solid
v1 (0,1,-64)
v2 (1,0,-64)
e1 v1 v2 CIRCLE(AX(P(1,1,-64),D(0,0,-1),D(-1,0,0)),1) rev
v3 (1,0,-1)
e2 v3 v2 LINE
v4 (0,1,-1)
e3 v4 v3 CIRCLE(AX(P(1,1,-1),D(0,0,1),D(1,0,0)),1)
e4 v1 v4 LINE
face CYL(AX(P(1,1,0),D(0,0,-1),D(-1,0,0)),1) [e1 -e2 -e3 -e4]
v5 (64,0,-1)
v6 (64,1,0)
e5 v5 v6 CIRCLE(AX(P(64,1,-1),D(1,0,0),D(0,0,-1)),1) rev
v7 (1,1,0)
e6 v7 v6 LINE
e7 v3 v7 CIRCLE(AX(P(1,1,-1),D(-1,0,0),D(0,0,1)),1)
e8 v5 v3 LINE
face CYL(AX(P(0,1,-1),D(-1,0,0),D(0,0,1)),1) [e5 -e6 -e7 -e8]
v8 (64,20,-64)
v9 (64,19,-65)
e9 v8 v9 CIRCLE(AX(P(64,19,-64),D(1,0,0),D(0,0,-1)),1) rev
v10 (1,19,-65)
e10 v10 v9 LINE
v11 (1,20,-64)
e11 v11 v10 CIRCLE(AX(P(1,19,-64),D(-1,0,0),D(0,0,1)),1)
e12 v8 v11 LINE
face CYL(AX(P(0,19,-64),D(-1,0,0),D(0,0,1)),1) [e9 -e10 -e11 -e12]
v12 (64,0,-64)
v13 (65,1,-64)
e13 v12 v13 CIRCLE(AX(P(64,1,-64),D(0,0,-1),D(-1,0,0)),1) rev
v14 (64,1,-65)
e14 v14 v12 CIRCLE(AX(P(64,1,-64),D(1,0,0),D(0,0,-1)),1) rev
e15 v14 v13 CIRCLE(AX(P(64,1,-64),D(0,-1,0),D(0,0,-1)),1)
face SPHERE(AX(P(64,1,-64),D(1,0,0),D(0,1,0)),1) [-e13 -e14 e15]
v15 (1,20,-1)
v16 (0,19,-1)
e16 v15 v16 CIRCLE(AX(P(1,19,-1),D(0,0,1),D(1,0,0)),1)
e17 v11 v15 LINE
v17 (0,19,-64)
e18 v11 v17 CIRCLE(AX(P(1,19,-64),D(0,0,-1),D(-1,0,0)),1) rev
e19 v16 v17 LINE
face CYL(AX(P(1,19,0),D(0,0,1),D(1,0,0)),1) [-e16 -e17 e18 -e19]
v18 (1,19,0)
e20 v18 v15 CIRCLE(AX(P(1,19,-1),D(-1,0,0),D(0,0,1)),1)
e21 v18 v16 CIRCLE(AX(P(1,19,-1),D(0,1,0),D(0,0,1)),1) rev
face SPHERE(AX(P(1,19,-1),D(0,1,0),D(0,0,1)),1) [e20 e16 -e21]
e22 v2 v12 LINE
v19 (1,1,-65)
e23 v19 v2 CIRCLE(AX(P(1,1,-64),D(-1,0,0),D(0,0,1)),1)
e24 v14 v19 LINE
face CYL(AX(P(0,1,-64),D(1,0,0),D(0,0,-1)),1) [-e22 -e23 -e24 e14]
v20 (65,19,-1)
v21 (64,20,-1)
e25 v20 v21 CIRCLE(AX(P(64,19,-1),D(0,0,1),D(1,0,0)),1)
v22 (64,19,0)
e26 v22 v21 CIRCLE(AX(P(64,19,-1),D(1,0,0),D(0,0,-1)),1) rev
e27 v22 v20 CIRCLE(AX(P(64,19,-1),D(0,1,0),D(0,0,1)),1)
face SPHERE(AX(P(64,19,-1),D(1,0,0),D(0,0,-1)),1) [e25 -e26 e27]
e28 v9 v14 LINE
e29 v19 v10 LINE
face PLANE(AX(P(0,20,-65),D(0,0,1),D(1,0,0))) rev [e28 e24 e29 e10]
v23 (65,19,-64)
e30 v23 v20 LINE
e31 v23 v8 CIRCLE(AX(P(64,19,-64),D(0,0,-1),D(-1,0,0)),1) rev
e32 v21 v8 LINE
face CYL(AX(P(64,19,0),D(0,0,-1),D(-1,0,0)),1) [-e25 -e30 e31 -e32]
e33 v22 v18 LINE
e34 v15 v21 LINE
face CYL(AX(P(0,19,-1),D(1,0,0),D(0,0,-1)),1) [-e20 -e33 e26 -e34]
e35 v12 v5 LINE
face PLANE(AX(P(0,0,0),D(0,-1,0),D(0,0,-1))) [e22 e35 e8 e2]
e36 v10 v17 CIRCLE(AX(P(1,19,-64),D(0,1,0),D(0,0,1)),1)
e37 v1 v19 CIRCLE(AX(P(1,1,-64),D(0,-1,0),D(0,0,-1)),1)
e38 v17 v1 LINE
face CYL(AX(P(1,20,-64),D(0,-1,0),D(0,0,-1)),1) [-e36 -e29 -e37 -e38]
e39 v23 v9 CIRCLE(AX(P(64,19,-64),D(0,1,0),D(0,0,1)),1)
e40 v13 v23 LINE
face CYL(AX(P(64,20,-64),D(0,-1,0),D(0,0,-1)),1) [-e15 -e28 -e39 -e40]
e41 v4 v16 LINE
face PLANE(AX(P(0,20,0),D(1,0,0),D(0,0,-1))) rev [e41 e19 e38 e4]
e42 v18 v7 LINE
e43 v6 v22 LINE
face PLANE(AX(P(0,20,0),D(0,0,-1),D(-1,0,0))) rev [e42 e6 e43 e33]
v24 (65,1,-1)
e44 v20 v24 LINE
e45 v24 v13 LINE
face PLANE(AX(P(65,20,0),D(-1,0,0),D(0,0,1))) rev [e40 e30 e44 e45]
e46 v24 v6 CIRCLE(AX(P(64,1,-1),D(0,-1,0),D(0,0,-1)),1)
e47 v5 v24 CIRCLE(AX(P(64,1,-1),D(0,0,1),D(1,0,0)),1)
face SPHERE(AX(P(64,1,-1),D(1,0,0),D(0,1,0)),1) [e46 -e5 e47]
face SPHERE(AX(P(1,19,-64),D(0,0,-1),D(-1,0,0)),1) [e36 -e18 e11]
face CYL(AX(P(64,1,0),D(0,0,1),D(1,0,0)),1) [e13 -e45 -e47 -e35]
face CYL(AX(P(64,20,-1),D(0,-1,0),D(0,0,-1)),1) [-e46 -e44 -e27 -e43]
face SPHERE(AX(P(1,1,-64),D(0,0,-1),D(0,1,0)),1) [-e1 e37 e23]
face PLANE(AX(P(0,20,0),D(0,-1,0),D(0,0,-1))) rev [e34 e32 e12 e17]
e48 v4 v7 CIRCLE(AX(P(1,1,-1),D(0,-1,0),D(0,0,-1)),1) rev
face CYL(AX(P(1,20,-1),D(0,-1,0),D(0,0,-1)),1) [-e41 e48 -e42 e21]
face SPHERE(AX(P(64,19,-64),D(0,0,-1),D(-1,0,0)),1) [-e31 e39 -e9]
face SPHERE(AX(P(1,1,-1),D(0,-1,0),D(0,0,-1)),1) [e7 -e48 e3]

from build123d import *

# Parameters (mm, degrees)
SKETCH1_W           = 65
SKETCH1_H           = 65
BOSS_EXTRUDE1_DEPTH = 20
FILLET1_R           = 1
BOSS_EXTRUDE2_DEPTH = 2


with BuildPart() as part:
    # Sketch1 → Boss-Extrude1 (new body)
    with BuildSketch(Plane(origin=(0, 0, 0), x_dir=(1, 0, 0), z_dir=(0, 1, 0))):
        with Locations((32.5, 32.5)):
            Rectangle(SKETCH1_W, SKETCH1_H)
    extrude(amount=BOSS_EXTRUDE1_DEPTH)

    # Fillet1
    fillet1_edges = [part.edges().sort_by_distance(p)[0] for p in [
        (65, 20, -32.5),
        (32.5, 20, -65),
        (0, 20, -32.5),
        (32.5, 0, -65),
        (65, 0, -32.5),
        (32.5, 0, 0),
        (0, 0, -32.5),
        (0, 10, -65),
        (65, 10, -65),
        (65, 10, 0),
        (0, 10, 0),
        (32.5, 20, 0),
    ]]
    fillet(fillet1_edges, radius=FILLET1_R)

    # Sketch5 → Boss-Extrude2 (add)
    with BuildSketch(Plane(origin=(0, 20, 0), x_dir=(1, 0, 0), z_dir=(0, 1, 0))):
        Polygon((19.685637492, 45.314362508), (24.766822527, 50.395547542), (25.276108448, 49.886261621), (20.194923413, 44.805076587), align=None)
        with BuildLine():
            Line((24.270811136, 43.09904656), (24.718807634, 42.493448688))
            add(Edge.make_bspline(
                [(24.718807634, 42.493448688), (24.65944603, 42.457112102), (24.543657841, 42.386235522), (24.36613492, 42.296211036), (24.192297686, 42.219040325), (24.01995098, 42.159212632), (23.849730523, 42.114752837), (23.681690942, 42.086719988), (23.516089318, 42.075383185), (23.353313359, 42.077400194), (23.19429728, 42.097465643), (23.038449433, 42.128495622), (22.887328161, 42.177860051), (22.740286195, 42.240265036), (22.597438103, 42.3173153), (22.45826992, 42.40727332), (22.32545788, 42.515129055), (22.241429087, 42.594556655), (22.198644924, 42.63499807)],
                knots=[0, 0, 0, 0, 0.000208722, 0.000407124, 0.000596633, 0.000778925, 0.00095377, 0.001123861, 0.001289171, 0.001451177, 0.001611365, 0.001769344, 0.001927175, 0.002087363, 0.002247969, 0.002413511, 0.002583753, 0.002760349, 0.002760349, 0.002760349, 0.002760349], degree=3))
            add(Edge.make_bspline(
                [(22.198644924, 42.63499807), (22.147701284, 42.688346884), (22.04765429, 42.793117339), (21.922554095, 42.967231051), (21.817569235, 43.147019722), (21.73659792, 43.335189786), (21.679785512, 43.530848968), (21.644085884, 43.733421879), (21.633386128, 43.943953589), (21.643285872, 44.161113728), (21.677814894, 44.38377928), (21.742580127, 44.606907144), (21.828375675, 44.832560204), (21.944279573, 45.056953333), (22.083016879, 45.284675208), (22.25070644, 45.510705787), (22.440615653, 45.740739094), (22.58325937, 45.886785575), (22.656856326, 45.962138185)],
                knots=[0, 0, 0, 0, 0.000221059, 0.000434133, 0.00064138, 0.000844681, 0.001046936, 0.001251338, 0.00146034, 0.001678012, 0.001902569, 0.002134488, 0.002373782, 0.002625691, 0.002890982, 0.003172935, 0.003469264, 0.003785121, 0.003785121, 0.003785121, 0.003785121], degree=3))
            add(Edge.make_bspline(
                [(22.656856326, 45.962138185), (22.735304815, 46.037955999), (22.88748258, 46.185030666), (23.123303486, 46.384632603), (23.357638034, 46.557100392), (23.590677334, 46.702822596), (23.821840648, 46.822078206), (24.051852, 46.914709279), (24.280409589, 46.981983021), (24.506932694, 47.018796963), (24.727384439, 47.03431778), (24.940233058, 47.025482357), (25.144352505, 46.994971105), (25.340085808, 46.942519294), (25.526286742, 46.866215225), (25.702710621, 46.766561684), (25.872394562, 46.647715855), (25.973496188, 46.551133092), (26.024856056, 46.502068817)],
                knots=[0, 0, 0, 0, 0.000327232, 0.000634778, 0.000926067, 0.001199391, 0.001458489, 0.001705352, 0.00194228, 0.002171628, 0.00239246, 0.002604236, 0.002809376, 0.003010444, 0.003210705, 0.003411263, 0.003617372, 0.003830186, 0.003830186, 0.003830186, 0.003830186], degree=3))
            add(Edge.make_bspline(
                [(26.024856056, 46.502068817), (26.071398533, 46.453066353), (26.163167054, 46.356447435), (26.277023523, 46.193668973), (26.37086823, 46.023021925), (26.443461426, 45.842869536), (26.493233934, 45.653122307), (26.520175644, 45.45373442), (26.527595943, 45.24544748), (26.512535805, 45.029344415), (26.475308317, 44.807364737), (26.409425794, 44.583426164), (26.320915695, 44.357268318), (26.201043695, 44.132062546), (26.060507567, 43.902626648), (25.89079672, 43.673437755), (25.696655056, 43.442073581), (25.552080753, 43.293670825), (25.477629063, 43.21724759)],
                knots=[0, 0, 0, 0, 0.000202508, 0.000399288, 0.000593897, 0.000785751, 0.000980426, 0.001180814, 0.001388159, 0.001604624, 0.001829655, 0.002061973, 0.002303688, 0.00255693, 0.002826235, 0.003110228, 0.003411606, 0.003731589, 0.003731589, 0.003731589, 0.003731589], degree=3))
            Line((25.477629063, 43.21724759), (25.308353514, 43.053809128))
            Line((25.308353514, 43.053809128), (23.055237576, 45.306925066))
            add(Edge.make_bspline(
                [(23.055237576, 45.306925066), (23.008428941, 45.253428574), (22.917532008, 45.149544603), (22.794995519, 44.99005008), (22.687606361, 44.834345409), (22.598042408, 44.680102339), (22.523988968, 44.528378877), (22.46893383, 44.377973841), (22.428484602, 44.230679765), (22.404672414, 44.086328807), (22.398574981, 43.946465898), (22.401417614, 43.812435439), (22.421043899, 43.684765665), (22.452728022, 43.563194715), (22.498625025, 43.448182852), (22.557092061, 43.339791827), (22.629175623, 43.237817936), (22.686267844, 43.176729605), (22.715227205, 43.145743263)],
                knots=[0, 0, 0, 0, 0.000213204, 0.000414017, 0.000603036, 0.00078024, 0.000948633, 0.00110884, 0.001259993, 0.001406336, 0.001546616, 0.001679481, 0.001807848, 0.00193315, 0.002055633, 0.002178385, 0.002301882, 0.002429006, 0.002429006, 0.002429006, 0.002429006], degree=3))
            add(Edge.make_bspline(
                [(22.715227205, 43.145743263), (22.763714327, 43.101268255), (22.858414682, 43.014403973), (23.025956737, 42.922340751), (23.204141766, 42.861085255), (23.396323147, 42.841646968), (23.600048933, 42.851176309), (23.814991722, 42.901604999), (24.042730565, 42.981679607), (24.192378727, 43.05868638), (24.270811136, 43.09904656)],
                knots=[0, 0, 0, 0, 0.000196748, 0.000384268, 0.000568853, 0.000758368, 0.000960006, 0.001178117, 0.001418122, 0.001682448, 0.001682448, 0.001682448, 0.001682448], degree=3))
        make_face()
        with BuildLine():
            Line((23.598086753, 45.788484819), (25.282086618, 44.104484954))
            add(Edge.make_bspline(
                [(25.282086618, 44.104484954), (25.317456152, 44.146521608), (25.385900663, 44.227867836), (25.479775603, 44.350787831), (25.561877228, 44.470464632), (25.632124497, 44.587358235), (25.691145975, 44.700570312), (25.736058611, 44.811350606), (25.773087872, 44.917520401), (25.786377298, 44.989073722), (25.792831811, 45.023826301)],
                knots=[0, 0, 0, 0, 0.000164794, 0.000318898, 0.0004638, 0.000599943, 0.000727861, 0.000846287, 0.000958423, 0.001064318, 0.001064318, 0.001064318, 0.001064318], degree=3))
            add(Edge.make_bspline(
                [(25.792831811, 45.023826301), (25.799813725, 45.071878299), (25.813377134, 45.165226467), (25.814257222, 45.30339848), (25.801182934, 45.435020893), (25.774145727, 45.560903067), (25.729739188, 45.679965001), (25.670458197, 45.791928238), (25.597330146, 45.898165534), (25.538293331, 45.961856188), (25.508273775, 45.994242168)],
                knots=[0, 0, 0, 0, 0.000145525, 0.000282705, 0.000413242, 0.000541766, 0.000667814, 0.000793141, 0.000921059, 0.001053395, 0.001053395, 0.001053395, 0.001053395], degree=3))
            add(Edge.make_bspline(
                [(25.508273775, 45.994242168), (25.479202656, 46.021698757), (25.422234743, 46.075502829), (25.327077988, 46.143572618), (25.226022071, 46.198991516), (25.119469498, 46.243146809), (25.006665555, 46.273929901), (24.888728253, 46.292595438), (24.764604833, 46.299684032), (24.636059667, 46.29554037), (24.504591069, 46.27783771), (24.372662252, 46.247016845), (24.241600945, 46.202755032), (24.110298143, 46.147206738), (23.980677113, 46.076811617), (23.852388098, 45.992570612), (23.722553615, 45.897996438), (23.640333437, 45.825655378), (23.598086753, 45.788484819)],
                knots=[0, 0, 0, 0, 0.000119856, 0.00023487, 0.00034982, 0.000464991, 0.000580052, 0.000699766, 0.000822561, 0.00095251, 0.001085007, 0.001219869, 0.001358308, 0.001499526, 0.001647086, 0.001800087, 0.001959736, 0.002128463, 0.002128463, 0.002128463, 0.002128463], degree=3))
        make_face(mode=Mode.SUBTRACT)
        with BuildLine():
            Line((24.256928886, 40.743071114), (27.937212819, 44.423355048))
            Line((27.937212819, 44.423355048), (28.396883493, 43.963684374))
            Line((28.396883493, 43.963684374), (27.874464124, 43.441265005))
            add(Edge.make_bspline(
                [(27.874464124, 43.441265005), (27.950920243, 43.461674048), (28.098922361, 43.501181437), (28.321702162, 43.527286092), (28.534408586, 43.525711262), (28.736967661, 43.492266462), (28.930507375, 43.434748033), (29.112252205, 43.344942514), (29.285821773, 43.23105084), (29.388065649, 43.135461808), (29.440262959, 43.086661914)],
                knots=[0, 0, 0, 0, 0.00023714, 0.00045905, 0.000670664, 0.000873146, 0.001073023, 0.001274043, 0.001479241, 0.001693257, 0.001693257, 0.001693257, 0.001693257], degree=3))
            add(Edge.make_bspline(
                [(29.440262959, 43.086661914), (29.479237571, 43.045701744), (29.555948444, 42.965082845), (29.651727199, 42.830729926), (29.733688037, 42.691079746), (29.796795775, 42.54476151), (29.843933405, 42.396078746), (29.872725772, 42.248190754), (29.887408477, 42.10287992), (29.880498237, 41.958770633), (29.857841761, 41.814281782), (29.811728374, 41.668054182), (29.749403454, 41.518247208), (29.680906385, 41.391900736), (29.614240997, 41.286817058), (29.55205399, 41.200752274), (29.481461369, 41.107516401), (29.397994108, 41.009652562), (29.307522476, 40.903718375), (29.205603934, 40.792000351), (29.093727999, 40.674235372), (29.014326282, 40.594545181), (28.973295925, 40.553365757)],
                knots=[0, 0, 0, 0, 0.000169426, 0.00033347, 0.000493658, 0.000654423, 0.000810422, 0.00096067, 0.001105734, 0.001247403, 0.001392305, 0.001543261, 0.001706138, 0.001878505, 0.001973638, 0.002079322, 0.002196945, 0.00232437, 0.002465082, 0.002614877, 0.002777963, 0.00295235, 0.00295235, 0.00295235, 0.00295235], degree=3))
            Line((28.973295925, 40.553365757), (26.709965084, 38.290034916))
            Line((26.709965084, 38.290034916), (26.197760619, 38.802239381))
            Line((26.197760619, 38.802239381), (28.436283837, 41.040762598))
            add(Edge.make_bspline(
                [(28.436283837, 41.040762598), (28.498834303, 41.104732657), (28.614954251, 41.223487965), (28.764812047, 41.398480511), (28.879101321, 41.554577542), (28.960654173, 41.695654959), (29.012514868, 41.828209488), (29.040075072, 41.956841821), (29.050277675, 42.084305362), (29.036279506, 42.209999528), (29.003709911, 42.331703897), (28.954677983, 42.448518613), (28.882691104, 42.556276666), (28.823880395, 42.620443943), (28.793805472, 42.653258136)],
                knots=[0, 0, 0, 0, 0.000268355, 0.00049818, 0.00069055, 0.000848023, 0.00098569, 0.001115639, 0.001241442, 0.001367624, 0.001492926, 0.001618432, 0.001745925, 0.001879358, 0.001879358, 0.001879358, 0.001879358], degree=3))
            add(Edge.make_bspline(
                [(28.793805472, 42.653258136), (28.763187059, 42.682046242), (28.702932566, 42.738698845), (28.605315182, 42.81236554), (28.502003168, 42.870205812), (28.396735111, 42.918527741), (28.285997777, 42.950250802), (28.171905723, 42.969342191), (28.053919522, 42.97490495), (27.931901325, 42.967925543), (27.804732482, 42.94415941), (27.673021679, 42.901129229), (27.536350163, 42.838100954), (27.393143948, 42.75815232), (27.246606826, 42.656239788), (27.093618898, 42.536931702), (26.935494109, 42.398840319), (26.83109022, 42.297220606), (26.777091595, 42.244661982)],
                knots=[0, 0, 0, 0, 0.000126039, 0.000248035, 0.000365685, 0.000480662, 0.000594719, 0.000710112, 0.000827, 0.000948339, 0.00107599, 0.001213974, 0.001362884, 0.001526876, 0.001705373, 0.001897736, 0.002108731, 0.002334768, 0.002334768, 0.002334768, 0.002334768], degree=3))
            Line((26.777091595, 42.244661982), (24.766214807, 40.233785193))
            Line((24.766214807, 40.233785193), (24.256928886, 40.743071114))
        make_face()
        with BuildLine():
            Line((28.397593963, 38.800069639), (28.998814018, 38.391473485))
            add(Edge.make_bspline(
                [(28.998814018, 38.391473485), (28.971522035, 38.355862259), (28.918530346, 38.286717449), (28.850053452, 38.179416628), (28.791547054, 38.074906972), (28.743199129, 37.971463994), (28.709297745, 37.868277663), (28.683201074, 37.767042009), (28.670469797, 37.667078287), (28.666043136, 37.536705125), (28.688594893, 37.374482586), (28.758670326, 37.187340011), (28.866105164, 37.006369777), (28.964064917, 36.900834271), (29.01486601, 36.846104458)],
                knots=[0, 0, 0, 0, 0.000134546, 0.000261243, 0.000381436, 0.000493752, 0.00060312, 0.00070682, 0.000806916, 0.000904731, 0.001097692, 0.00129343, 0.001500898, 0.001724391, 0.001724391, 0.001724391, 0.001724391], degree=3))
            add(Edge.make_bspline(
                [(29.01486601, 36.846104458), (29.069441835, 36.795835111), (29.172990452, 36.700457326), (29.342679441, 36.588820454), (29.516720057, 36.519990136), (29.690805894, 36.489543092), (29.859716906, 36.498403237), (30.01876995, 36.541915162), (30.16708271, 36.618757165), (30.250415812, 36.693776173), (30.293188265, 36.732281244)],
                knots=[0, 0, 0, 0, 0.000222389, 0.000421947, 0.000605404, 0.000780054, 0.000948098, 0.001108466, 0.00127165, 0.001443733, 0.001443733, 0.001443733, 0.001443733], degree=3))
            add(Edge.make_bspline(
                [(30.293188265, 36.732281244), (30.326160082, 36.768383514), (30.389471047, 36.83770543), (30.452583476, 36.961547014), (30.483616436, 37.093216642), (30.478287487, 37.18210217), (30.475597262, 37.226974445)],
                knots=[0, 0, 0, 0, 0.000146109, 0.000280553, 0.000412243, 0.000546504, 0.000546504, 0.000546504, 0.000546504], degree=3))
            add(Edge.make_bspline(
                [(30.475597262, 37.226974445), (30.472436749, 37.244538199), (30.465345915, 37.283943725), (30.447476422, 37.347936753), (30.420458765, 37.422708398), (30.385593212, 37.508478052), (30.341249593, 37.604367281), (30.290137516, 37.711619684), (30.229915462, 37.829400163), (30.187187713, 37.911880955), (30.164772331, 37.955151163)],
                knots=[0, 0, 0, 0, 5.3518e-05, 0.000120071, 0.000198993, 0.000291941, 0.000397735, 0.000515873, 0.000648354, 0.000794551, 0.000794551, 0.000794551, 0.000794551], degree=3))
            add(Edge.make_bspline(
                [(30.164772331, 37.955151163), (30.132090575, 38.017850384), (30.069445542, 38.138033488), (29.980891546, 38.311481042), (29.906007385, 38.472488345), (29.838085929, 38.617626828), (29.782172165, 38.748899705), (29.738643504, 38.866657164), (29.702585494, 38.969246159), (29.671389798, 39.087584192), (29.651000577, 39.227233321), (29.645328094, 39.392084984), (29.66561401, 39.556940667), (29.706464713, 39.720228472), (29.768908951, 39.881076669), (29.855399766, 40.034931713), (29.960088954, 40.184138289), (30.045337829, 40.273512063), (30.088890188, 40.31917177)],
                knots=[0, 0, 0, 0, 0.000212122, 0.0004066, 0.000584152, 0.000744778, 0.000887339, 0.001012019, 0.001121387, 0.001213414, 0.001378724, 0.00154368, 0.001706766, 0.001875235, 0.002047583, 0.002222629, 0.002403632, 0.002592691, 0.002592691, 0.002592691, 0.002592691], degree=3))
            add(Edge.make_bspline(
                [(30.088890188, 40.31917177), (30.128032615, 40.356994116), (30.204637433, 40.431015431), (30.329853162, 40.525425421), (30.457257226, 40.606915946), (30.589343694, 40.672832991), (30.725094725, 40.72443303), (30.865240049, 40.759511449), (31.009011182, 40.779880625), (31.15574204, 40.785985308), (31.303476447, 40.77552129), (31.450575101, 40.749648993), (31.595190228, 40.704455907), (31.739136944, 40.646670282), (31.880006672, 40.570079835), (32.016772837, 40.474711543), (32.155421954, 40.367907691), (32.241136901, 40.284569229), (32.285094518, 40.241830356)],
                knots=[0, 0, 0, 0, 0.000163152, 0.0003193, 0.000469499, 0.000616336, 0.000761341, 0.000904327, 0.001048787, 0.001196289, 0.001344029, 0.001492302, 0.001643257, 0.00179772, 0.001957041, 0.002122988, 0.002297565, 0.00248134, 0.00248134, 0.00248134, 0.00248134], degree=3))
            add(Edge.make_bspline(
                [(32.285094518, 40.241830356), (32.337852306, 40.185948728), (32.440535985, 40.077185051), (32.571187106, 39.900500906), (32.677552367, 39.719402205), (32.756128791, 39.533579644), (32.810566231, 39.348425774), (32.840497313, 39.166043217), (32.845606599, 38.987690971), (32.823451513, 38.810732341), (32.769345652, 38.630694319), (32.684733386, 38.442518618), (32.568144059, 38.242589122), (32.471765986, 38.111840057), (32.420806812, 38.042707482)],
                knots=[0, 0, 0, 0, 0.000230385, 0.000448403, 0.000657645, 0.000859029, 0.001052062, 0.00123535, 0.001411976, 0.001585556, 0.001767965, 0.001973769, 0.002203283, 0.002460794, 0.002460794, 0.002460794, 0.002460794], degree=3))
            Line((32.420806812, 38.042707482), (31.838557292, 38.458599996))
            add(Edge.make_bspline(
                [(31.838557292, 38.458599996), (31.879401728, 38.51282359), (31.956839937, 38.615627749), (32.038231596, 38.782456396), (32.088056737, 38.946173696), (32.097929335, 39.108657145), (32.074764551, 39.268501518), (32.011217909, 39.423461233), (31.917510187, 39.578116516), (31.831252687, 39.668893474), (31.7860235, 39.716492443)],
                knots=[0, 0, 0, 0, 0.000203232, 0.000385314, 0.00055389, 0.000713278, 0.000869713, 0.001034204, 0.001212402, 0.001408846, 0.001408846, 0.001408846, 0.001408846], degree=3))
            add(Edge.make_bspline(
                [(31.7860235, 39.716492443), (31.732905563, 39.767245769), (31.632896426, 39.862802875), (31.471323107, 39.973278235), (31.314661986, 40.048901469), (31.161343523, 40.083293574), (31.016122049, 40.084183944), (30.881109182, 40.052442759), (30.756185721, 39.992096689), (30.687338587, 39.930412026), (30.652169172, 39.89890144)],
                knots=[0, 0, 0, 0, 0.000220079, 0.00041436, 0.00058477, 0.000738777, 0.000881786, 0.001016648, 0.001151739, 0.001292814, 0.001292814, 0.001292814, 0.001292814], degree=3))
            add(Edge.make_bspline(
                [(30.652169172, 39.89890144), (30.620980875, 39.864787494), (30.56085833, 39.799025094), (30.505240554, 39.679362067), (30.475944511, 39.552357767), (30.483423349, 39.466101156), (30.487271438, 39.421719503)],
                knots=[0, 0, 0, 0, 0.000137892, 0.000265817, 0.000391179, 0.000524045, 0.000524045, 0.000524045, 0.000524045], degree=3))
            add(Edge.make_bspline(
                [(30.487271438, 39.421719503), (30.490395657, 39.405599282), (30.497591674, 39.368469557), (30.51761967, 39.306581144), (30.547778094, 39.231420948), (30.583137156, 39.140516056), (30.631435245, 39.037519127), (30.684545951, 38.91846373), (30.749096811, 38.786514203), (30.795575431, 38.693983064), (30.81998545, 38.645386809)],
                knots=[0, 0, 0, 0, 4.9227e-05, 0.000113386, 0.000194687, 0.00029224, 0.000405885, 0.000535834, 0.000683336, 0.000846488, 0.000846488, 0.000846488, 0.000846488], degree=3))
            add(Edge.make_bspline(
                [(30.81998545, 38.645386809), (30.854241274, 38.578364373), (30.919783653, 38.450128957), (31.010409734, 38.264835791), (31.088680835, 38.096258791), (31.156781293, 37.94468116), (31.213492505, 37.810005253), (31.259398025, 37.691477566), (31.293388142, 37.589773918), (31.322924098, 37.476840305), (31.342727876, 37.346038471), (31.346133978, 37.190906285), (31.326672281, 37.0352135), (31.285351421, 36.879683127), (31.221973226, 36.725730455), (31.136256285, 36.574338558), (31.027588952, 36.425818198), (30.94073455, 36.334418329), (30.895867593, 36.28720329)],
                knots=[0, 0, 0, 0, 0.000225806, 0.000432038, 0.000618757, 0.00078337, 0.000930533, 0.001057094, 0.001164616, 0.001252039, 0.001407031, 0.001560282, 0.001716124, 0.001876112, 0.002041687, 0.002214184, 0.002396896, 0.002592139, 0.002592139, 0.002592139, 0.002592139], degree=3))
            add(Edge.make_bspline(
                [(30.895867593, 36.28720329), (30.851817853, 36.245074856), (30.765912472, 36.162916386), (30.627629082, 36.055078362), (30.484151508, 35.966369126), (30.337376295, 35.892498955), (30.186503854, 35.834808362), (30.030651537, 35.79571987), (29.870826238, 35.771824325), (29.707857867, 35.766324916), (29.544441736, 35.777811936), (29.382528905, 35.807402037), (29.223111606, 35.854369959), (29.065755909, 35.918731104), (28.912773946, 36.003128348), (28.761056762, 36.103050362), (28.612124467, 36.221279404), (28.518484897, 36.311216194), (28.470557562, 36.357248345)],
                knots=[0, 0, 0, 0, 0.000182782, 0.00035646, 0.00052491, 0.000688061, 0.00084878, 0.001008402, 0.001169167, 0.00133271, 0.001496565, 0.001659716, 0.00182549, 0.001994318, 0.002168663, 0.002348769, 0.002538839, 0.002738119, 0.002738119, 0.002738119, 0.002738119], degree=3))
            add(Edge.make_bspline(
                [(28.470557562, 36.357248345), (28.427696267, 36.402468293), (28.343913067, 36.490862078), (28.230344781, 36.628742225), (28.137296187, 36.771840292), (28.057674052, 36.91473211), (27.993735635, 37.059955561), (27.948727467, 37.208502847), (27.91867848, 37.359049844), (27.908110126, 37.511824801), (27.910033188, 37.666380447), (27.931374691, 37.822782558), (27.968283906, 37.981457637), (28.021195898, 38.142021663), (28.089925891, 38.304855974), (28.177404962, 38.468379919), (28.279416872, 38.635292974), (28.357473233, 38.744128509), (28.397593963, 38.800069639)],
                knots=[0, 0, 0, 0, 0.000186906, 0.000365356, 0.000534939, 0.000698221, 0.000855728, 0.001009901, 0.001163013, 0.001315226, 0.001468477, 0.00162595, 0.001787719, 0.001956616, 0.002132518, 0.002317247, 0.002512462, 0.002718922, 0.002718922, 0.002718922, 0.002718922], degree=3))
        make_face()
        with BuildLine():
            Line((32.194011935, 32.805988065), (35.389817571, 36.001793702))
            Line((35.389817571, 36.001793702), (34.935983985, 36.455627287))
            Line((34.935983985, 36.455627287), (35.420462283, 36.940105585))
            Line((35.420462283, 36.940105585), (35.874295868, 36.486271999))
            Line((35.874295868, 36.486271999), (36.266840031, 36.878816162))
            add(Edge.make_bspline(
                [(36.266840031, 36.878816162), (36.335517636, 36.945443651), (36.46397807, 37.070069373), (36.656925909, 37.230565412), (36.833848513, 37.353613251), (36.999247715, 37.439264272), (37.156364433, 37.492449427), (37.310202624, 37.517178985), (37.462874394, 37.519330465), (37.614658158, 37.495309962), (37.765426607, 37.446344255), (37.913452379, 37.370979935), (38.058218961, 37.268451948), (38.146891462, 37.184969378), (38.193079045, 37.141485118)],
                knots=[0, 0, 0, 0, 0.000286976, 0.000536785, 0.00075211, 0.000932234, 0.001093746, 0.001247524, 0.001397836, 0.001549944, 0.001706386, 0.001871497, 0.002046396, 0.002236539, 0.002236539, 0.002236539, 0.002236539], degree=3))
            add(Edge.make_bspline(
                [(38.193079045, 37.141485118), (38.229731778, 37.103635711), (38.305147448, 37.025757799), (38.408411527, 36.894542479), (38.513431492, 36.753923442), (38.576634578, 36.652160706), (38.608971559, 36.600095213)],
                knots=[0, 0, 0, 0, 0.000157959, 0.000325012, 0.000500429, 0.000684204, 0.000684204, 0.000684204, 0.000684204], degree=3))
            Line((38.608971559, 36.600095213), (37.99024024, 36.13312818))
            add(Edge.make_bspline(
                [(37.99024024, 36.13312818), (37.94856809, 36.19474545), (37.868033833, 36.313825004), (37.769353, 36.418330984), (37.721734195, 36.468760735)],
                knots=[0, 0, 0, 0, 0.000222734, 0.000430448, 0.000430448, 0.000430448, 0.000430448], degree=3))
            add(Edge.make_bspline(
                [(37.721734195, 36.468760735), (37.684984469, 36.503325988), (37.616380818, 36.567851707), (37.501351347, 36.6373372), (37.38710354, 36.676508314), (37.269527367, 36.681322992), (37.146066829, 36.648969031), (37.015877585, 36.572935867), (36.868735235, 36.464180863), (36.773005584, 36.370905363), (36.720673617, 36.319914993)],
                knots=[0, 0, 0, 0, 0.000151005, 0.000281893, 0.00040003, 0.000509563, 0.000629898, 0.000777458, 0.000958995, 0.001177905, 0.001177905, 0.001177905, 0.001177905], degree=3))
            Line((36.720673617, 36.319914993), (36.380663246, 35.979904622))
            Line((36.380663246, 35.979904622), (36.970209125, 35.390358742))
            Line((36.970209125, 35.390358742), (36.485730828, 34.905880445))
            Line((36.485730828, 34.905880445), (35.896184948, 35.495426324))
            Line((35.896184948, 35.495426324), (32.700379312, 32.299620688))
            Line((32.700379312, 32.299620688), (32.194011935, 32.805988065))
        make_face()
        Polygon((38.063745009, 35.662701431), (38.781706824, 36.380663246), (39.290992745, 35.871377324), (38.57303093, 35.15341551), align=None)
        Polygon((33.700521789, 31.299478211), (37.380805723, 34.979762145), (37.890091644, 34.470476224), (34.20980771, 30.79019229), align=None)
        Polygon((35.006711293, 29.993288707), (40.087896328, 35.074473741), (40.597182249, 34.56518782), (35.515997215, 29.484002785), align=None)
        with BuildLine():
            Line((38.03921955, 28.075664242), (37.557659797, 27.456932923))
            add(Edge.make_bspline(
                [(37.557659797, 27.456932923), (37.515050023, 27.482745795), (37.43238392, 27.532824672), (37.31718147, 27.612941746), (37.213488023, 27.695009592), (37.151582133, 27.75368446), (37.121337475, 27.782350574)],
                knots=[0, 0, 0, 0, 0.000149424, 0.000289894, 0.000420708, 0.00054567, 0.00054567, 0.00054567, 0.00054567], degree=3))
            add(Edge.make_bspline(
                [(37.121337475, 27.782350574), (37.080520821, 27.826284363), (37.00266627, 27.910084602), (36.905335621, 28.043375934), (36.837471953, 28.179367766), (36.793839433, 28.314754345), (36.776062632, 28.449207905), (36.781793895, 28.580641418), (36.810848404, 28.708565298), (36.851754189, 28.814304299), (36.903226494, 28.900217385), (36.952401532, 28.97672984), (37.017456151, 29.060621154), (37.095235374, 29.154191678), (37.185990582, 29.257605167), (37.289197155, 29.371823644), (37.408036732, 29.493393567), (37.491018667, 29.578231476), (37.534311445, 29.622492541)],
                knots=[0, 0, 0, 0, 0.00017984, 0.000343031, 0.00049313, 0.000633895, 0.000767839, 0.000897845, 0.001026369, 0.001159962, 0.001235802, 0.001326465, 0.001432701, 0.001553961, 0.001691513, 0.00184543, 0.002015715, 0.002201461, 0.002201461, 0.002201461, 0.002201461], degree=3))
            Line((37.534311445, 29.622492541), (39.651715088, 31.739896184))
            Line((39.651715088, 31.739896184), (39.276682189, 32.114929083))
            Line((39.276682189, 32.114929083), (39.761160487, 32.599407381))
            Line((39.761160487, 32.599407381), (40.136193386, 32.224374482))
            Line((40.136193386, 32.224374482), (41.048238373, 33.136419469))
            Line((41.048238373, 33.136419469), (41.931097921, 33.000707175))
            Line((41.931097921, 33.000707175), (40.645479307, 31.715088561))
            Line((40.645479307, 31.715088561), (41.162061588, 31.19850628))
            Line((41.162061588, 31.19850628), (40.67758329, 30.714027982))
            Line((40.67758329, 30.714027982), (40.161001009, 31.230610263))
            Line((40.161001009, 31.230610263), (38.008574839, 29.078184093))
            add(Edge.make_bspline(
                [(38.008574839, 29.078184093), (37.963565468, 29.032602902), (37.882150668, 28.950153768), (37.782632017, 28.831135525), (37.70657419, 28.737041742), (37.67976807, 28.67403323), (37.668564467, 28.647698859)],
                knots=[0, 0, 0, 0, 0.000191971, 0.000347244, 0.000466334, 0.000551848, 0.000551848, 0.000551848, 0.000551848], degree=3))
            add(Edge.make_bspline(
                [(37.668564467, 28.647698859), (37.661368448, 28.616170398), (37.647174638, 28.553981992), (37.667335502, 28.456091259), (37.713318119, 28.360307296), (37.764109452, 28.305966729), (37.791143314, 28.277043776)],
                knots=[0, 0, 0, 0, 9.5969e-05, 0.000189294, 0.000293066, 0.00041115, 0.00041115, 0.00041115, 0.00041115], degree=3))
            add(Edge.make_bspline(
                [(37.791143314, 28.277043776), (37.825644347, 28.245276519), (37.904125739, 28.173013796), (37.99070257, 28.110625921), (38.03921955, 28.075664242)],
                knots=[0, 0, 0, 0, 0.000140576, 0.000319775, 0.000319775, 0.000319775, 0.000319775], degree=3))
        make_face()
        with BuildLine():
            Line((41.242862717, 26.126994978), (41.690859215, 25.521397106))
            add(Edge.make_bspline(
                [(41.690859215, 25.521397106), (41.631497611, 25.485060521), (41.515709422, 25.414183941), (41.338186502, 25.324159455), (41.164349268, 25.246988743), (40.992002561, 25.18716105), (40.821782105, 25.142701255), (40.653742523, 25.114668406), (40.4881409, 25.103331603), (40.32536494, 25.105348613), (40.166348862, 25.125414061), (40.010501015, 25.156444041), (39.859379743, 25.20580847), (39.712337777, 25.268213455), (39.569489684, 25.345263718), (39.430321501, 25.435221738), (39.297509461, 25.543077474), (39.213480668, 25.622505073), (39.170696506, 25.662946489)],
                knots=[0, 0, 0, 0, 0.000208722, 0.000407124, 0.000596633, 0.000778925, 0.00095377, 0.001123861, 0.001289171, 0.001451177, 0.001611365, 0.001769344, 0.001927175, 0.002087363, 0.002247969, 0.002413511, 0.002583753, 0.002760349, 0.002760349, 0.002760349, 0.002760349], degree=3))
            add(Edge.make_bspline(
                [(39.170696506, 25.662946489), (39.119752865, 25.716295302), (39.019705871, 25.821065758), (38.894605676, 25.99517947), (38.789620817, 26.17496814), (38.708649501, 26.363138204), (38.651837093, 26.558797387), (38.616137466, 26.761370297), (38.605437709, 26.971902007), (38.615337453, 27.189062146), (38.649866476, 27.411727698), (38.714631708, 27.634855562), (38.800427257, 27.860508623), (38.916331154, 28.084901752), (39.055068461, 28.312623626), (39.222758022, 28.538654205), (39.412667234, 28.768687513), (39.555310952, 28.914733994), (39.628907907, 28.990086603)],
                knots=[0, 0, 0, 0, 0.000221059, 0.000434133, 0.00064138, 0.000844681, 0.001046936, 0.001251338, 0.00146034, 0.001678012, 0.001902569, 0.002134488, 0.002373782, 0.002625691, 0.002890982, 0.003172935, 0.003469264, 0.003785121, 0.003785121, 0.003785121, 0.003785121], degree=3))
            add(Edge.make_bspline(
                [(39.628907907, 28.990086603), (39.707356397, 29.065904417), (39.859534162, 29.212979085), (40.095355068, 29.412581022), (40.329689615, 29.58504881), (40.562728915, 29.730771014), (40.793892229, 29.850026625), (41.023903582, 29.942657697), (41.252461171, 30.00993144), (41.478984276, 30.046745381), (41.69943602, 30.062266198), (41.91228464, 30.053430775), (42.116404087, 30.022919524), (42.312137389, 29.970467712), (42.498338323, 29.894163644), (42.674762203, 29.794510102), (42.844446144, 29.675664273), (42.94554777, 29.57908151), (42.996907637, 29.530017236)],
                knots=[0, 0, 0, 0, 0.000327232, 0.000634778, 0.000926067, 0.001199391, 0.001458489, 0.001705352, 0.00194228, 0.002171628, 0.00239246, 0.002604236, 0.002809376, 0.003010444, 0.003210705, 0.003411263, 0.003617372, 0.003830186, 0.003830186, 0.003830186, 0.003830186], degree=3))
            add(Edge.make_bspline(
                [(42.996907637, 29.530017236), (43.043450114, 29.481014771), (43.135218636, 29.384395854), (43.249075105, 29.221617392), (43.342919812, 29.050970344), (43.415513007, 28.870817954), (43.465285516, 28.681070726), (43.492227225, 28.481682839), (43.499647524, 28.273395898), (43.484587386, 28.057292834), (43.447359898, 27.835313155), (43.381477375, 27.611374582), (43.292967277, 27.385216736), (43.173095277, 27.160010965), (43.032559148, 26.930575066), (42.862848302, 26.701386173), (42.668706637, 26.470022), (42.524132335, 26.321619244), (42.449680645, 26.245196009)],
                knots=[0, 0, 0, 0, 0.000202508, 0.000399288, 0.000593897, 0.000785751, 0.000980426, 0.001180814, 0.001388159, 0.001604624, 0.001829655, 0.002061973, 0.002303688, 0.00255693, 0.002826235, 0.003110228, 0.003411606, 0.003731589, 0.003731589, 0.003731589, 0.003731589], degree=3))
            Line((42.449680645, 26.245196009), (42.280405095, 26.081757547))
            Line((42.280405095, 26.081757547), (40.027289158, 28.334873484))
            add(Edge.make_bspline(
                [(40.027289158, 28.334873484), (39.980480522, 28.281376993), (39.889583589, 28.177493021), (39.767047101, 28.017998498), (39.659657943, 27.862293828), (39.570093989, 27.708050757), (39.496040549, 27.556327295), (39.440985411, 27.40592226), (39.400536183, 27.258628183), (39.376723995, 27.114277225), (39.370626562, 26.974414317), (39.373469195, 26.840383858), (39.393095481, 26.712714084), (39.424779604, 26.591143133), (39.470676606, 26.47613127), (39.529143643, 26.367740245), (39.601227205, 26.265766354), (39.658319425, 26.204678024), (39.687278787, 26.173691682)],
                knots=[0, 0, 0, 0, 0.000213204, 0.000414017, 0.000603036, 0.00078024, 0.000948633, 0.00110884, 0.001259993, 0.001406336, 0.001546616, 0.001679481, 0.001807848, 0.00193315, 0.002055633, 0.002178385, 0.002301882, 0.002429006, 0.002429006, 0.002429006, 0.002429006], degree=3))
            add(Edge.make_bspline(
                [(39.687278787, 26.173691682), (39.735765909, 26.129216673), (39.830466263, 26.042352392), (39.998008318, 25.950289169), (40.176193347, 25.889033673), (40.368374729, 25.869595386), (40.572100515, 25.879124727), (40.787043303, 25.929553417), (41.014782146, 26.009628025), (41.164430309, 26.086634798), (41.242862717, 26.126994978)],
                knots=[0, 0, 0, 0, 0.000196748, 0.000384268, 0.000568853, 0.000758368, 0.000960006, 0.001178117, 0.001418122, 0.001682448, 0.001682448, 0.001682448, 0.001682448], degree=3))
        make_face()
        with BuildLine():
            Line((40.570138335, 28.816433237), (42.2541382, 27.132433372))
            add(Edge.make_bspline(
                [(42.2541382, 27.132433372), (42.289507734, 27.174470026), (42.357952245, 27.255816254), (42.451827184, 27.37873625), (42.53392881, 27.49841305), (42.604176078, 27.615306653), (42.663197557, 27.728518731), (42.708110193, 27.839299025), (42.745139454, 27.945468819), (42.75842888, 28.01702214), (42.764883393, 28.05177472)],
                knots=[0, 0, 0, 0, 0.000164794, 0.000318898, 0.0004638, 0.000599943, 0.000727861, 0.000846287, 0.000958423, 0.001064318, 0.001064318, 0.001064318, 0.001064318], degree=3))
            add(Edge.make_bspline(
                [(42.764883393, 28.05177472), (42.771865307, 28.099826718), (42.785428716, 28.193174886), (42.786308804, 28.331346899), (42.773234516, 28.462969311), (42.746197308, 28.588851486), (42.701790769, 28.707913419), (42.642509779, 28.819876656), (42.569381728, 28.926113952), (42.510344912, 28.989804606), (42.480325356, 29.022190587)],
                knots=[0, 0, 0, 0, 0.000145525, 0.000282705, 0.000413242, 0.000541766, 0.000667814, 0.000793141, 0.000921059, 0.001053395, 0.001053395, 0.001053395, 0.001053395], degree=3))
            add(Edge.make_bspline(
                [(42.480325356, 29.022190587), (42.451254238, 29.049647175), (42.394286324, 29.103451247), (42.299129569, 29.171521037), (42.198073652, 29.226939935), (42.091521079, 29.271095227), (41.978717137, 29.30187832), (41.860779835, 29.320543856), (41.736656414, 29.327632451), (41.608111249, 29.323488788), (41.476642651, 29.305786129), (41.344713834, 29.274965264), (41.213652526, 29.23070345), (41.082349725, 29.175155156), (40.952728694, 29.104760036), (40.824439679, 29.020519031), (40.694605197, 28.925944857), (40.612385019, 28.853603796), (40.570138335, 28.816433237)],
                knots=[0, 0, 0, 0, 0.000119856, 0.00023487, 0.00034982, 0.000464991, 0.000580052, 0.000699766, 0.000822561, 0.00095251, 0.001085007, 0.001219869, 0.001358308, 0.001499526, 0.001647086, 0.001800087, 0.001959736, 0.002128463, 0.002128463, 0.002128463, 0.002128463], degree=3))
        make_face(mode=Mode.SUBTRACT)
        with BuildLine():
            Line((41.228980467, 23.771019533), (44.909264401, 27.451303466))
            Line((44.909264401, 27.451303466), (45.368935075, 26.991632793))
            Line((45.368935075, 26.991632793), (44.811493178, 26.434190896))
            add(Edge.make_bspline(
                [(44.811493178, 26.434190896), (44.857082737, 26.451115446), (44.944355433, 26.483514336), (45.072731118, 26.524238854), (45.191321051, 26.559222199), (45.300583308, 26.587819531), (45.401186409, 26.606480476), (45.49213213, 26.620156307), (45.574594504, 26.626514217), (45.670637516, 26.624677799), (45.780727504, 26.607602907), (45.902359417, 26.566479099), (46.013289455, 26.504444979), (46.075711452, 26.448123603), (46.107326697, 26.419598177)],
                knots=[0, 0, 0, 0, 0.000145869, 0.000279239, 0.000403919, 0.000516822, 0.000617849, 0.000710717, 0.000792644, 0.000865622, 0.000998536, 0.00112498, 0.001249147, 0.001376573, 0.001376573, 0.001376573, 0.001376573], degree=3))
            add(Edge.make_bspline(
                [(46.107326697, 26.419598177), (46.148139175, 26.373803537), (46.231671259, 26.280074316), (46.324052431, 26.107953941), (46.393464896, 25.911432893), (46.418311138, 25.769770819), (46.431285076, 25.695799274)],
                knots=[0, 0, 0, 0, 0.00018348, 0.000375534, 0.000581379, 0.000806325, 0.000806325, 0.000806325, 0.000806325], degree=3))
            Line((46.431285076, 25.695799274), (45.678300734, 25.290121664))
            add(Edge.make_bspline(
                [(45.678300734, 25.290121664), (45.66813895, 25.341626701), (45.648602219, 25.440648688), (45.596048332, 25.577070099), (45.532250791, 25.699036956), (45.47255771, 25.764477714), (45.443357946, 25.796489041)],
                knots=[0, 0, 0, 0, 0.000157175, 0.00030218, 0.000437397, 0.000566878, 0.000566878, 0.000566878, 0.000566878], degree=3))
            add(Edge.make_bspline(
                [(45.443357946, 25.796489041), (45.415027761, 25.821935808), (45.35875788, 25.872478597), (45.258936831, 25.928441543), (45.148478619, 25.965180092), (45.029197899, 25.983492882), (44.903427196, 25.984167173), (44.775563704, 25.961021756), (44.645965423, 25.91833137), (44.5638069, 25.87464899), (44.521098054, 25.851941376)],
                knots=[0, 0, 0, 0, 0.000113973, 0.000226375, 0.000340357, 0.000461511, 0.000587009, 0.000715839, 0.000849663, 0.000994543, 0.000994543, 0.000994543, 0.000994543], degree=3))
            add(Edge.make_bspline(
                [(44.521098054, 25.851941376), (44.445922363, 25.80687578), (44.293930489, 25.715761161), (44.077929244, 25.556661725), (43.865593485, 25.383171971), (43.733160518, 25.25464557), (43.665964674, 25.189431897)],
                knots=[0, 0, 0, 0, 0.000262807, 0.000531348, 0.000803951, 0.001084739, 0.001084739, 0.001084739, 0.001084739], degree=3))
            Line((43.665964674, 25.189431897), (41.738266388, 23.261733612))
            Line((41.738266388, 23.261733612), (41.228980467, 23.771019533))
        make_face()
        with BuildLine():
            Line((44.114902431, 23.082761171), (44.716122487, 22.674165016))
            add(Edge.make_bspline(
                [(44.716122487, 22.674165016), (44.688830504, 22.638553791), (44.635838815, 22.569408981), (44.56736192, 22.46210816), (44.508855522, 22.357598503), (44.460507597, 22.254155525), (44.426606214, 22.150969195), (44.400509542, 22.04973354), (44.387778265, 21.949769818), (44.383351605, 21.819396656), (44.405903362, 21.657174117), (44.475978795, 21.470031542), (44.583413632, 21.289061309), (44.681373386, 21.183525803), (44.732174479, 21.128795989)],
                knots=[0, 0, 0, 0, 0.000134546, 0.000261243, 0.000381436, 0.000493752, 0.00060312, 0.00070682, 0.000806916, 0.000904731, 0.001097692, 0.00129343, 0.001500898, 0.001724391, 0.001724391, 0.001724391, 0.001724391], degree=3))
            add(Edge.make_bspline(
                [(44.732174479, 21.128795989), (44.786750304, 21.078526643), (44.89029892, 20.983148857), (45.059987909, 20.871511986), (45.234028525, 20.802681667), (45.408114363, 20.772234624), (45.577025375, 20.781094769), (45.736078418, 20.824606693), (45.884391178, 20.901448696), (45.96772428, 20.976467704), (46.010496733, 21.014972775)],
                knots=[0, 0, 0, 0, 0.000222389, 0.000421947, 0.000605404, 0.000780054, 0.000948098, 0.001108466, 0.00127165, 0.001443733, 0.001443733, 0.001443733, 0.001443733], degree=3))
            add(Edge.make_bspline(
                [(46.010496733, 21.014972775), (46.043468551, 21.051075045), (46.106779516, 21.120396962), (46.169891945, 21.244238545), (46.200924905, 21.375908173), (46.195595956, 21.464793702), (46.192905731, 21.509665976)],
                knots=[0, 0, 0, 0, 0.000146109, 0.000280553, 0.000412243, 0.000546504, 0.000546504, 0.000546504, 0.000546504], degree=3))
            add(Edge.make_bspline(
                [(46.192905731, 21.509665976), (46.189745218, 21.52722973), (46.182654383, 21.566635257), (46.16478489, 21.630628284), (46.137767234, 21.70539993), (46.10290168, 21.791169584), (46.058558061, 21.887058812), (46.007445985, 21.994311215), (45.94722393, 22.112091694), (45.904496182, 22.194572487), (45.882080799, 22.237842694)],
                knots=[0, 0, 0, 0, 5.3518e-05, 0.000120071, 0.000198993, 0.000291941, 0.000397735, 0.000515873, 0.000648354, 0.000794551, 0.000794551, 0.000794551, 0.000794551], degree=3))
            add(Edge.make_bspline(
                [(45.882080799, 22.237842694), (45.849399044, 22.300541915), (45.78675401, 22.42072502), (45.698200015, 22.594172574), (45.623315853, 22.755179877), (45.555394398, 22.900318359), (45.499480634, 23.031591236), (45.455951973, 23.149348696), (45.419893962, 23.251937691), (45.388698267, 23.370275724), (45.368309046, 23.509924852), (45.362636562, 23.674776515), (45.382922479, 23.839632198), (45.423773181, 24.002920003), (45.48621742, 24.1637682), (45.572708234, 24.317623244), (45.677397423, 24.46682982), (45.762646297, 24.556203594), (45.806198656, 24.601863302)],
                knots=[0, 0, 0, 0, 0.000212122, 0.0004066, 0.000584152, 0.000744778, 0.000887339, 0.001012019, 0.001121387, 0.001213414, 0.001378724, 0.00154368, 0.001706766, 0.001875235, 0.002047583, 0.002222629, 0.002403632, 0.002592691, 0.002592691, 0.002592691, 0.002592691], degree=3))
            add(Edge.make_bspline(
                [(45.806198656, 24.601863302), (45.845341084, 24.639685648), (45.921945902, 24.713706963), (46.047161631, 24.808116953), (46.174565695, 24.889607478), (46.306652163, 24.955524522), (46.442403194, 25.007124562), (46.582548518, 25.042202981), (46.72631965, 25.062572157), (46.873050509, 25.06867684), (47.020784916, 25.058212822), (47.16788357, 25.032340524), (47.312498696, 24.987147438), (47.456445412, 24.929361814), (47.59731514, 24.852771367), (47.734081306, 24.757403074), (47.872730423, 24.650599222), (47.958445369, 24.56726076), (48.002402986, 24.524521887)],
                knots=[0, 0, 0, 0, 0.000163152, 0.0003193, 0.000469499, 0.000616336, 0.000761341, 0.000904327, 0.001048787, 0.001196289, 0.001344029, 0.001492302, 0.001643257, 0.00179772, 0.001957041, 0.002122988, 0.002297565, 0.00248134, 0.00248134, 0.00248134, 0.00248134], degree=3))
            add(Edge.make_bspline(
                [(48.002402986, 24.524521887), (48.055160774, 24.46864026), (48.157844454, 24.359876583), (48.288495575, 24.183192438), (48.394860836, 24.002093736), (48.47343726, 23.816271176), (48.527874699, 23.631117305), (48.557805782, 23.448734749), (48.562915068, 23.270382503), (48.540759981, 23.093423872), (48.486654121, 22.91338585), (48.402041855, 22.72521015), (48.285452528, 22.525280654), (48.189074455, 22.394531589), (48.13811528, 22.325399013)],
                knots=[0, 0, 0, 0, 0.000230385, 0.000448403, 0.000657645, 0.000859029, 0.001052062, 0.00123535, 0.001411976, 0.001585556, 0.001767965, 0.001973769, 0.002203283, 0.002460794, 0.002460794, 0.002460794, 0.002460794], degree=3))
            Line((48.13811528, 22.325399013), (47.55586576, 22.741291527))
            add(Edge.make_bspline(
                [(47.55586576, 22.741291527), (47.596710197, 22.795515121), (47.674148406, 22.89831928), (47.755540065, 23.065147927), (47.805365206, 23.228865227), (47.815237803, 23.391348676), (47.792073019, 23.55119305), (47.728526378, 23.706152764), (47.634818656, 23.860808047), (47.548561156, 23.951585006), (47.503331969, 23.999183974)],
                knots=[0, 0, 0, 0, 0.000203232, 0.000385314, 0.00055389, 0.000713278, 0.000869713, 0.001034204, 0.001212402, 0.001408846, 0.001408846, 0.001408846, 0.001408846], degree=3))
            add(Edge.make_bspline(
                [(47.503331969, 23.999183974), (47.450214032, 24.0499373), (47.350204895, 24.145494407), (47.188631576, 24.255969766), (47.031970455, 24.331593001), (46.878651992, 24.365985105), (46.733430518, 24.366875476), (46.59841765, 24.33513429), (46.47349419, 24.274788221), (46.404647056, 24.213103557), (46.36947764, 24.181592972)],
                knots=[0, 0, 0, 0, 0.000220079, 0.00041436, 0.00058477, 0.000738777, 0.000881786, 0.001016648, 0.001151739, 0.001292814, 0.001292814, 0.001292814, 0.001292814], degree=3))
            add(Edge.make_bspline(
                [(46.36947764, 24.181592972), (46.338289343, 24.147479025), (46.278166799, 24.081716625), (46.222549023, 23.962053599), (46.19325298, 23.835049299), (46.200731817, 23.748792687), (46.204579907, 23.704411034)],
                knots=[0, 0, 0, 0, 0.000137892, 0.000265817, 0.000391179, 0.000524045, 0.000524045, 0.000524045, 0.000524045], degree=3))
            add(Edge.make_bspline(
                [(46.204579907, 23.704411034), (46.207704125, 23.688290813), (46.214900142, 23.651161089), (46.234928138, 23.589272676), (46.265086563, 23.514112479), (46.300445624, 23.423207587), (46.348743713, 23.320210659), (46.40185442, 23.201155261), (46.466405279, 23.069205734), (46.512883899, 22.976674595), (46.537293918, 22.928078341)],
                knots=[0, 0, 0, 0, 4.9227e-05, 0.000113386, 0.000194687, 0.00029224, 0.000405885, 0.000535834, 0.000683336, 0.000846488, 0.000846488, 0.000846488, 0.000846488], degree=3))
            add(Edge.make_bspline(
                [(46.537293918, 22.928078341), (46.571549743, 22.861055904), (46.637092121, 22.732820488), (46.727718202, 22.547527322), (46.805989304, 22.378950322), (46.874089762, 22.227372691), (46.930800973, 22.092696784), (46.976706494, 21.974169098), (47.01069661, 21.87246545), (47.040232567, 21.759531837), (47.060036344, 21.628730002), (47.063442446, 21.473597817), (47.04398075, 21.317905032), (47.002659889, 21.162374658), (46.939281694, 21.008421986), (46.853564753, 20.85703009), (46.74489742, 20.70850973), (46.658043018, 20.61710986), (46.613176061, 20.569894821)],
                knots=[0, 0, 0, 0, 0.000225806, 0.000432038, 0.000618757, 0.00078337, 0.000930533, 0.001057094, 0.001164616, 0.001252039, 0.001407031, 0.001560282, 0.001716124, 0.001876112, 0.002041687, 0.002214184, 0.002396896, 0.002592139, 0.002592139, 0.002592139, 0.002592139], degree=3))
            add(Edge.make_bspline(
                [(46.613176061, 20.569894821), (46.569126322, 20.527766387), (46.48322094, 20.445607918), (46.344937551, 20.337769893), (46.201459977, 20.249060657), (46.054684764, 20.175190487), (45.903812322, 20.117499893), (45.747960005, 20.078411402), (45.588134706, 20.054515857), (45.425166336, 20.049016447), (45.261750204, 20.060503467), (45.099837374, 20.090093569), (44.940420074, 20.137061491), (44.783064378, 20.201422636), (44.630082415, 20.285819879), (44.47836523, 20.385741894), (44.329432935, 20.503970935), (44.235793366, 20.593907726), (44.18786603, 20.639939876)],
                knots=[0, 0, 0, 0, 0.000182782, 0.00035646, 0.00052491, 0.000688061, 0.00084878, 0.001008402, 0.001169167, 0.00133271, 0.001496565, 0.001659716, 0.00182549, 0.001994318, 0.002168663, 0.002348769, 0.002538839, 0.002738119, 0.002738119, 0.002738119, 0.002738119], degree=3))
            add(Edge.make_bspline(
                [(44.18786603, 20.639939876), (44.145004736, 20.685159825), (44.061221536, 20.77355361), (43.947653249, 20.911433756), (43.854604655, 21.054531824), (43.774982521, 21.197423642), (43.711044104, 21.342647093), (43.666035936, 21.491194379), (43.635986948, 21.641741376), (43.625418595, 21.794516332), (43.627341657, 21.949071978), (43.64868316, 22.10547409), (43.685592375, 22.264149168), (43.738504366, 22.424713195), (43.807234359, 22.587547505), (43.894713431, 22.751071451), (43.99672534, 22.917984506), (44.074781701, 23.02682004), (44.114902431, 23.082761171)],
                knots=[0, 0, 0, 0, 0.000186906, 0.000365356, 0.000534939, 0.000698221, 0.000855728, 0.001009901, 0.001163013, 0.001315226, 0.001468477, 0.00162595, 0.001787719, 0.001956616, 0.002132518, 0.002317247, 0.002512462, 0.002718922, 0.002718922, 0.002718922, 0.002718922], degree=3))
        make_face()
    extrude(amount=-BOSS_EXTRUDE2_DEPTH)


solid = part.part
